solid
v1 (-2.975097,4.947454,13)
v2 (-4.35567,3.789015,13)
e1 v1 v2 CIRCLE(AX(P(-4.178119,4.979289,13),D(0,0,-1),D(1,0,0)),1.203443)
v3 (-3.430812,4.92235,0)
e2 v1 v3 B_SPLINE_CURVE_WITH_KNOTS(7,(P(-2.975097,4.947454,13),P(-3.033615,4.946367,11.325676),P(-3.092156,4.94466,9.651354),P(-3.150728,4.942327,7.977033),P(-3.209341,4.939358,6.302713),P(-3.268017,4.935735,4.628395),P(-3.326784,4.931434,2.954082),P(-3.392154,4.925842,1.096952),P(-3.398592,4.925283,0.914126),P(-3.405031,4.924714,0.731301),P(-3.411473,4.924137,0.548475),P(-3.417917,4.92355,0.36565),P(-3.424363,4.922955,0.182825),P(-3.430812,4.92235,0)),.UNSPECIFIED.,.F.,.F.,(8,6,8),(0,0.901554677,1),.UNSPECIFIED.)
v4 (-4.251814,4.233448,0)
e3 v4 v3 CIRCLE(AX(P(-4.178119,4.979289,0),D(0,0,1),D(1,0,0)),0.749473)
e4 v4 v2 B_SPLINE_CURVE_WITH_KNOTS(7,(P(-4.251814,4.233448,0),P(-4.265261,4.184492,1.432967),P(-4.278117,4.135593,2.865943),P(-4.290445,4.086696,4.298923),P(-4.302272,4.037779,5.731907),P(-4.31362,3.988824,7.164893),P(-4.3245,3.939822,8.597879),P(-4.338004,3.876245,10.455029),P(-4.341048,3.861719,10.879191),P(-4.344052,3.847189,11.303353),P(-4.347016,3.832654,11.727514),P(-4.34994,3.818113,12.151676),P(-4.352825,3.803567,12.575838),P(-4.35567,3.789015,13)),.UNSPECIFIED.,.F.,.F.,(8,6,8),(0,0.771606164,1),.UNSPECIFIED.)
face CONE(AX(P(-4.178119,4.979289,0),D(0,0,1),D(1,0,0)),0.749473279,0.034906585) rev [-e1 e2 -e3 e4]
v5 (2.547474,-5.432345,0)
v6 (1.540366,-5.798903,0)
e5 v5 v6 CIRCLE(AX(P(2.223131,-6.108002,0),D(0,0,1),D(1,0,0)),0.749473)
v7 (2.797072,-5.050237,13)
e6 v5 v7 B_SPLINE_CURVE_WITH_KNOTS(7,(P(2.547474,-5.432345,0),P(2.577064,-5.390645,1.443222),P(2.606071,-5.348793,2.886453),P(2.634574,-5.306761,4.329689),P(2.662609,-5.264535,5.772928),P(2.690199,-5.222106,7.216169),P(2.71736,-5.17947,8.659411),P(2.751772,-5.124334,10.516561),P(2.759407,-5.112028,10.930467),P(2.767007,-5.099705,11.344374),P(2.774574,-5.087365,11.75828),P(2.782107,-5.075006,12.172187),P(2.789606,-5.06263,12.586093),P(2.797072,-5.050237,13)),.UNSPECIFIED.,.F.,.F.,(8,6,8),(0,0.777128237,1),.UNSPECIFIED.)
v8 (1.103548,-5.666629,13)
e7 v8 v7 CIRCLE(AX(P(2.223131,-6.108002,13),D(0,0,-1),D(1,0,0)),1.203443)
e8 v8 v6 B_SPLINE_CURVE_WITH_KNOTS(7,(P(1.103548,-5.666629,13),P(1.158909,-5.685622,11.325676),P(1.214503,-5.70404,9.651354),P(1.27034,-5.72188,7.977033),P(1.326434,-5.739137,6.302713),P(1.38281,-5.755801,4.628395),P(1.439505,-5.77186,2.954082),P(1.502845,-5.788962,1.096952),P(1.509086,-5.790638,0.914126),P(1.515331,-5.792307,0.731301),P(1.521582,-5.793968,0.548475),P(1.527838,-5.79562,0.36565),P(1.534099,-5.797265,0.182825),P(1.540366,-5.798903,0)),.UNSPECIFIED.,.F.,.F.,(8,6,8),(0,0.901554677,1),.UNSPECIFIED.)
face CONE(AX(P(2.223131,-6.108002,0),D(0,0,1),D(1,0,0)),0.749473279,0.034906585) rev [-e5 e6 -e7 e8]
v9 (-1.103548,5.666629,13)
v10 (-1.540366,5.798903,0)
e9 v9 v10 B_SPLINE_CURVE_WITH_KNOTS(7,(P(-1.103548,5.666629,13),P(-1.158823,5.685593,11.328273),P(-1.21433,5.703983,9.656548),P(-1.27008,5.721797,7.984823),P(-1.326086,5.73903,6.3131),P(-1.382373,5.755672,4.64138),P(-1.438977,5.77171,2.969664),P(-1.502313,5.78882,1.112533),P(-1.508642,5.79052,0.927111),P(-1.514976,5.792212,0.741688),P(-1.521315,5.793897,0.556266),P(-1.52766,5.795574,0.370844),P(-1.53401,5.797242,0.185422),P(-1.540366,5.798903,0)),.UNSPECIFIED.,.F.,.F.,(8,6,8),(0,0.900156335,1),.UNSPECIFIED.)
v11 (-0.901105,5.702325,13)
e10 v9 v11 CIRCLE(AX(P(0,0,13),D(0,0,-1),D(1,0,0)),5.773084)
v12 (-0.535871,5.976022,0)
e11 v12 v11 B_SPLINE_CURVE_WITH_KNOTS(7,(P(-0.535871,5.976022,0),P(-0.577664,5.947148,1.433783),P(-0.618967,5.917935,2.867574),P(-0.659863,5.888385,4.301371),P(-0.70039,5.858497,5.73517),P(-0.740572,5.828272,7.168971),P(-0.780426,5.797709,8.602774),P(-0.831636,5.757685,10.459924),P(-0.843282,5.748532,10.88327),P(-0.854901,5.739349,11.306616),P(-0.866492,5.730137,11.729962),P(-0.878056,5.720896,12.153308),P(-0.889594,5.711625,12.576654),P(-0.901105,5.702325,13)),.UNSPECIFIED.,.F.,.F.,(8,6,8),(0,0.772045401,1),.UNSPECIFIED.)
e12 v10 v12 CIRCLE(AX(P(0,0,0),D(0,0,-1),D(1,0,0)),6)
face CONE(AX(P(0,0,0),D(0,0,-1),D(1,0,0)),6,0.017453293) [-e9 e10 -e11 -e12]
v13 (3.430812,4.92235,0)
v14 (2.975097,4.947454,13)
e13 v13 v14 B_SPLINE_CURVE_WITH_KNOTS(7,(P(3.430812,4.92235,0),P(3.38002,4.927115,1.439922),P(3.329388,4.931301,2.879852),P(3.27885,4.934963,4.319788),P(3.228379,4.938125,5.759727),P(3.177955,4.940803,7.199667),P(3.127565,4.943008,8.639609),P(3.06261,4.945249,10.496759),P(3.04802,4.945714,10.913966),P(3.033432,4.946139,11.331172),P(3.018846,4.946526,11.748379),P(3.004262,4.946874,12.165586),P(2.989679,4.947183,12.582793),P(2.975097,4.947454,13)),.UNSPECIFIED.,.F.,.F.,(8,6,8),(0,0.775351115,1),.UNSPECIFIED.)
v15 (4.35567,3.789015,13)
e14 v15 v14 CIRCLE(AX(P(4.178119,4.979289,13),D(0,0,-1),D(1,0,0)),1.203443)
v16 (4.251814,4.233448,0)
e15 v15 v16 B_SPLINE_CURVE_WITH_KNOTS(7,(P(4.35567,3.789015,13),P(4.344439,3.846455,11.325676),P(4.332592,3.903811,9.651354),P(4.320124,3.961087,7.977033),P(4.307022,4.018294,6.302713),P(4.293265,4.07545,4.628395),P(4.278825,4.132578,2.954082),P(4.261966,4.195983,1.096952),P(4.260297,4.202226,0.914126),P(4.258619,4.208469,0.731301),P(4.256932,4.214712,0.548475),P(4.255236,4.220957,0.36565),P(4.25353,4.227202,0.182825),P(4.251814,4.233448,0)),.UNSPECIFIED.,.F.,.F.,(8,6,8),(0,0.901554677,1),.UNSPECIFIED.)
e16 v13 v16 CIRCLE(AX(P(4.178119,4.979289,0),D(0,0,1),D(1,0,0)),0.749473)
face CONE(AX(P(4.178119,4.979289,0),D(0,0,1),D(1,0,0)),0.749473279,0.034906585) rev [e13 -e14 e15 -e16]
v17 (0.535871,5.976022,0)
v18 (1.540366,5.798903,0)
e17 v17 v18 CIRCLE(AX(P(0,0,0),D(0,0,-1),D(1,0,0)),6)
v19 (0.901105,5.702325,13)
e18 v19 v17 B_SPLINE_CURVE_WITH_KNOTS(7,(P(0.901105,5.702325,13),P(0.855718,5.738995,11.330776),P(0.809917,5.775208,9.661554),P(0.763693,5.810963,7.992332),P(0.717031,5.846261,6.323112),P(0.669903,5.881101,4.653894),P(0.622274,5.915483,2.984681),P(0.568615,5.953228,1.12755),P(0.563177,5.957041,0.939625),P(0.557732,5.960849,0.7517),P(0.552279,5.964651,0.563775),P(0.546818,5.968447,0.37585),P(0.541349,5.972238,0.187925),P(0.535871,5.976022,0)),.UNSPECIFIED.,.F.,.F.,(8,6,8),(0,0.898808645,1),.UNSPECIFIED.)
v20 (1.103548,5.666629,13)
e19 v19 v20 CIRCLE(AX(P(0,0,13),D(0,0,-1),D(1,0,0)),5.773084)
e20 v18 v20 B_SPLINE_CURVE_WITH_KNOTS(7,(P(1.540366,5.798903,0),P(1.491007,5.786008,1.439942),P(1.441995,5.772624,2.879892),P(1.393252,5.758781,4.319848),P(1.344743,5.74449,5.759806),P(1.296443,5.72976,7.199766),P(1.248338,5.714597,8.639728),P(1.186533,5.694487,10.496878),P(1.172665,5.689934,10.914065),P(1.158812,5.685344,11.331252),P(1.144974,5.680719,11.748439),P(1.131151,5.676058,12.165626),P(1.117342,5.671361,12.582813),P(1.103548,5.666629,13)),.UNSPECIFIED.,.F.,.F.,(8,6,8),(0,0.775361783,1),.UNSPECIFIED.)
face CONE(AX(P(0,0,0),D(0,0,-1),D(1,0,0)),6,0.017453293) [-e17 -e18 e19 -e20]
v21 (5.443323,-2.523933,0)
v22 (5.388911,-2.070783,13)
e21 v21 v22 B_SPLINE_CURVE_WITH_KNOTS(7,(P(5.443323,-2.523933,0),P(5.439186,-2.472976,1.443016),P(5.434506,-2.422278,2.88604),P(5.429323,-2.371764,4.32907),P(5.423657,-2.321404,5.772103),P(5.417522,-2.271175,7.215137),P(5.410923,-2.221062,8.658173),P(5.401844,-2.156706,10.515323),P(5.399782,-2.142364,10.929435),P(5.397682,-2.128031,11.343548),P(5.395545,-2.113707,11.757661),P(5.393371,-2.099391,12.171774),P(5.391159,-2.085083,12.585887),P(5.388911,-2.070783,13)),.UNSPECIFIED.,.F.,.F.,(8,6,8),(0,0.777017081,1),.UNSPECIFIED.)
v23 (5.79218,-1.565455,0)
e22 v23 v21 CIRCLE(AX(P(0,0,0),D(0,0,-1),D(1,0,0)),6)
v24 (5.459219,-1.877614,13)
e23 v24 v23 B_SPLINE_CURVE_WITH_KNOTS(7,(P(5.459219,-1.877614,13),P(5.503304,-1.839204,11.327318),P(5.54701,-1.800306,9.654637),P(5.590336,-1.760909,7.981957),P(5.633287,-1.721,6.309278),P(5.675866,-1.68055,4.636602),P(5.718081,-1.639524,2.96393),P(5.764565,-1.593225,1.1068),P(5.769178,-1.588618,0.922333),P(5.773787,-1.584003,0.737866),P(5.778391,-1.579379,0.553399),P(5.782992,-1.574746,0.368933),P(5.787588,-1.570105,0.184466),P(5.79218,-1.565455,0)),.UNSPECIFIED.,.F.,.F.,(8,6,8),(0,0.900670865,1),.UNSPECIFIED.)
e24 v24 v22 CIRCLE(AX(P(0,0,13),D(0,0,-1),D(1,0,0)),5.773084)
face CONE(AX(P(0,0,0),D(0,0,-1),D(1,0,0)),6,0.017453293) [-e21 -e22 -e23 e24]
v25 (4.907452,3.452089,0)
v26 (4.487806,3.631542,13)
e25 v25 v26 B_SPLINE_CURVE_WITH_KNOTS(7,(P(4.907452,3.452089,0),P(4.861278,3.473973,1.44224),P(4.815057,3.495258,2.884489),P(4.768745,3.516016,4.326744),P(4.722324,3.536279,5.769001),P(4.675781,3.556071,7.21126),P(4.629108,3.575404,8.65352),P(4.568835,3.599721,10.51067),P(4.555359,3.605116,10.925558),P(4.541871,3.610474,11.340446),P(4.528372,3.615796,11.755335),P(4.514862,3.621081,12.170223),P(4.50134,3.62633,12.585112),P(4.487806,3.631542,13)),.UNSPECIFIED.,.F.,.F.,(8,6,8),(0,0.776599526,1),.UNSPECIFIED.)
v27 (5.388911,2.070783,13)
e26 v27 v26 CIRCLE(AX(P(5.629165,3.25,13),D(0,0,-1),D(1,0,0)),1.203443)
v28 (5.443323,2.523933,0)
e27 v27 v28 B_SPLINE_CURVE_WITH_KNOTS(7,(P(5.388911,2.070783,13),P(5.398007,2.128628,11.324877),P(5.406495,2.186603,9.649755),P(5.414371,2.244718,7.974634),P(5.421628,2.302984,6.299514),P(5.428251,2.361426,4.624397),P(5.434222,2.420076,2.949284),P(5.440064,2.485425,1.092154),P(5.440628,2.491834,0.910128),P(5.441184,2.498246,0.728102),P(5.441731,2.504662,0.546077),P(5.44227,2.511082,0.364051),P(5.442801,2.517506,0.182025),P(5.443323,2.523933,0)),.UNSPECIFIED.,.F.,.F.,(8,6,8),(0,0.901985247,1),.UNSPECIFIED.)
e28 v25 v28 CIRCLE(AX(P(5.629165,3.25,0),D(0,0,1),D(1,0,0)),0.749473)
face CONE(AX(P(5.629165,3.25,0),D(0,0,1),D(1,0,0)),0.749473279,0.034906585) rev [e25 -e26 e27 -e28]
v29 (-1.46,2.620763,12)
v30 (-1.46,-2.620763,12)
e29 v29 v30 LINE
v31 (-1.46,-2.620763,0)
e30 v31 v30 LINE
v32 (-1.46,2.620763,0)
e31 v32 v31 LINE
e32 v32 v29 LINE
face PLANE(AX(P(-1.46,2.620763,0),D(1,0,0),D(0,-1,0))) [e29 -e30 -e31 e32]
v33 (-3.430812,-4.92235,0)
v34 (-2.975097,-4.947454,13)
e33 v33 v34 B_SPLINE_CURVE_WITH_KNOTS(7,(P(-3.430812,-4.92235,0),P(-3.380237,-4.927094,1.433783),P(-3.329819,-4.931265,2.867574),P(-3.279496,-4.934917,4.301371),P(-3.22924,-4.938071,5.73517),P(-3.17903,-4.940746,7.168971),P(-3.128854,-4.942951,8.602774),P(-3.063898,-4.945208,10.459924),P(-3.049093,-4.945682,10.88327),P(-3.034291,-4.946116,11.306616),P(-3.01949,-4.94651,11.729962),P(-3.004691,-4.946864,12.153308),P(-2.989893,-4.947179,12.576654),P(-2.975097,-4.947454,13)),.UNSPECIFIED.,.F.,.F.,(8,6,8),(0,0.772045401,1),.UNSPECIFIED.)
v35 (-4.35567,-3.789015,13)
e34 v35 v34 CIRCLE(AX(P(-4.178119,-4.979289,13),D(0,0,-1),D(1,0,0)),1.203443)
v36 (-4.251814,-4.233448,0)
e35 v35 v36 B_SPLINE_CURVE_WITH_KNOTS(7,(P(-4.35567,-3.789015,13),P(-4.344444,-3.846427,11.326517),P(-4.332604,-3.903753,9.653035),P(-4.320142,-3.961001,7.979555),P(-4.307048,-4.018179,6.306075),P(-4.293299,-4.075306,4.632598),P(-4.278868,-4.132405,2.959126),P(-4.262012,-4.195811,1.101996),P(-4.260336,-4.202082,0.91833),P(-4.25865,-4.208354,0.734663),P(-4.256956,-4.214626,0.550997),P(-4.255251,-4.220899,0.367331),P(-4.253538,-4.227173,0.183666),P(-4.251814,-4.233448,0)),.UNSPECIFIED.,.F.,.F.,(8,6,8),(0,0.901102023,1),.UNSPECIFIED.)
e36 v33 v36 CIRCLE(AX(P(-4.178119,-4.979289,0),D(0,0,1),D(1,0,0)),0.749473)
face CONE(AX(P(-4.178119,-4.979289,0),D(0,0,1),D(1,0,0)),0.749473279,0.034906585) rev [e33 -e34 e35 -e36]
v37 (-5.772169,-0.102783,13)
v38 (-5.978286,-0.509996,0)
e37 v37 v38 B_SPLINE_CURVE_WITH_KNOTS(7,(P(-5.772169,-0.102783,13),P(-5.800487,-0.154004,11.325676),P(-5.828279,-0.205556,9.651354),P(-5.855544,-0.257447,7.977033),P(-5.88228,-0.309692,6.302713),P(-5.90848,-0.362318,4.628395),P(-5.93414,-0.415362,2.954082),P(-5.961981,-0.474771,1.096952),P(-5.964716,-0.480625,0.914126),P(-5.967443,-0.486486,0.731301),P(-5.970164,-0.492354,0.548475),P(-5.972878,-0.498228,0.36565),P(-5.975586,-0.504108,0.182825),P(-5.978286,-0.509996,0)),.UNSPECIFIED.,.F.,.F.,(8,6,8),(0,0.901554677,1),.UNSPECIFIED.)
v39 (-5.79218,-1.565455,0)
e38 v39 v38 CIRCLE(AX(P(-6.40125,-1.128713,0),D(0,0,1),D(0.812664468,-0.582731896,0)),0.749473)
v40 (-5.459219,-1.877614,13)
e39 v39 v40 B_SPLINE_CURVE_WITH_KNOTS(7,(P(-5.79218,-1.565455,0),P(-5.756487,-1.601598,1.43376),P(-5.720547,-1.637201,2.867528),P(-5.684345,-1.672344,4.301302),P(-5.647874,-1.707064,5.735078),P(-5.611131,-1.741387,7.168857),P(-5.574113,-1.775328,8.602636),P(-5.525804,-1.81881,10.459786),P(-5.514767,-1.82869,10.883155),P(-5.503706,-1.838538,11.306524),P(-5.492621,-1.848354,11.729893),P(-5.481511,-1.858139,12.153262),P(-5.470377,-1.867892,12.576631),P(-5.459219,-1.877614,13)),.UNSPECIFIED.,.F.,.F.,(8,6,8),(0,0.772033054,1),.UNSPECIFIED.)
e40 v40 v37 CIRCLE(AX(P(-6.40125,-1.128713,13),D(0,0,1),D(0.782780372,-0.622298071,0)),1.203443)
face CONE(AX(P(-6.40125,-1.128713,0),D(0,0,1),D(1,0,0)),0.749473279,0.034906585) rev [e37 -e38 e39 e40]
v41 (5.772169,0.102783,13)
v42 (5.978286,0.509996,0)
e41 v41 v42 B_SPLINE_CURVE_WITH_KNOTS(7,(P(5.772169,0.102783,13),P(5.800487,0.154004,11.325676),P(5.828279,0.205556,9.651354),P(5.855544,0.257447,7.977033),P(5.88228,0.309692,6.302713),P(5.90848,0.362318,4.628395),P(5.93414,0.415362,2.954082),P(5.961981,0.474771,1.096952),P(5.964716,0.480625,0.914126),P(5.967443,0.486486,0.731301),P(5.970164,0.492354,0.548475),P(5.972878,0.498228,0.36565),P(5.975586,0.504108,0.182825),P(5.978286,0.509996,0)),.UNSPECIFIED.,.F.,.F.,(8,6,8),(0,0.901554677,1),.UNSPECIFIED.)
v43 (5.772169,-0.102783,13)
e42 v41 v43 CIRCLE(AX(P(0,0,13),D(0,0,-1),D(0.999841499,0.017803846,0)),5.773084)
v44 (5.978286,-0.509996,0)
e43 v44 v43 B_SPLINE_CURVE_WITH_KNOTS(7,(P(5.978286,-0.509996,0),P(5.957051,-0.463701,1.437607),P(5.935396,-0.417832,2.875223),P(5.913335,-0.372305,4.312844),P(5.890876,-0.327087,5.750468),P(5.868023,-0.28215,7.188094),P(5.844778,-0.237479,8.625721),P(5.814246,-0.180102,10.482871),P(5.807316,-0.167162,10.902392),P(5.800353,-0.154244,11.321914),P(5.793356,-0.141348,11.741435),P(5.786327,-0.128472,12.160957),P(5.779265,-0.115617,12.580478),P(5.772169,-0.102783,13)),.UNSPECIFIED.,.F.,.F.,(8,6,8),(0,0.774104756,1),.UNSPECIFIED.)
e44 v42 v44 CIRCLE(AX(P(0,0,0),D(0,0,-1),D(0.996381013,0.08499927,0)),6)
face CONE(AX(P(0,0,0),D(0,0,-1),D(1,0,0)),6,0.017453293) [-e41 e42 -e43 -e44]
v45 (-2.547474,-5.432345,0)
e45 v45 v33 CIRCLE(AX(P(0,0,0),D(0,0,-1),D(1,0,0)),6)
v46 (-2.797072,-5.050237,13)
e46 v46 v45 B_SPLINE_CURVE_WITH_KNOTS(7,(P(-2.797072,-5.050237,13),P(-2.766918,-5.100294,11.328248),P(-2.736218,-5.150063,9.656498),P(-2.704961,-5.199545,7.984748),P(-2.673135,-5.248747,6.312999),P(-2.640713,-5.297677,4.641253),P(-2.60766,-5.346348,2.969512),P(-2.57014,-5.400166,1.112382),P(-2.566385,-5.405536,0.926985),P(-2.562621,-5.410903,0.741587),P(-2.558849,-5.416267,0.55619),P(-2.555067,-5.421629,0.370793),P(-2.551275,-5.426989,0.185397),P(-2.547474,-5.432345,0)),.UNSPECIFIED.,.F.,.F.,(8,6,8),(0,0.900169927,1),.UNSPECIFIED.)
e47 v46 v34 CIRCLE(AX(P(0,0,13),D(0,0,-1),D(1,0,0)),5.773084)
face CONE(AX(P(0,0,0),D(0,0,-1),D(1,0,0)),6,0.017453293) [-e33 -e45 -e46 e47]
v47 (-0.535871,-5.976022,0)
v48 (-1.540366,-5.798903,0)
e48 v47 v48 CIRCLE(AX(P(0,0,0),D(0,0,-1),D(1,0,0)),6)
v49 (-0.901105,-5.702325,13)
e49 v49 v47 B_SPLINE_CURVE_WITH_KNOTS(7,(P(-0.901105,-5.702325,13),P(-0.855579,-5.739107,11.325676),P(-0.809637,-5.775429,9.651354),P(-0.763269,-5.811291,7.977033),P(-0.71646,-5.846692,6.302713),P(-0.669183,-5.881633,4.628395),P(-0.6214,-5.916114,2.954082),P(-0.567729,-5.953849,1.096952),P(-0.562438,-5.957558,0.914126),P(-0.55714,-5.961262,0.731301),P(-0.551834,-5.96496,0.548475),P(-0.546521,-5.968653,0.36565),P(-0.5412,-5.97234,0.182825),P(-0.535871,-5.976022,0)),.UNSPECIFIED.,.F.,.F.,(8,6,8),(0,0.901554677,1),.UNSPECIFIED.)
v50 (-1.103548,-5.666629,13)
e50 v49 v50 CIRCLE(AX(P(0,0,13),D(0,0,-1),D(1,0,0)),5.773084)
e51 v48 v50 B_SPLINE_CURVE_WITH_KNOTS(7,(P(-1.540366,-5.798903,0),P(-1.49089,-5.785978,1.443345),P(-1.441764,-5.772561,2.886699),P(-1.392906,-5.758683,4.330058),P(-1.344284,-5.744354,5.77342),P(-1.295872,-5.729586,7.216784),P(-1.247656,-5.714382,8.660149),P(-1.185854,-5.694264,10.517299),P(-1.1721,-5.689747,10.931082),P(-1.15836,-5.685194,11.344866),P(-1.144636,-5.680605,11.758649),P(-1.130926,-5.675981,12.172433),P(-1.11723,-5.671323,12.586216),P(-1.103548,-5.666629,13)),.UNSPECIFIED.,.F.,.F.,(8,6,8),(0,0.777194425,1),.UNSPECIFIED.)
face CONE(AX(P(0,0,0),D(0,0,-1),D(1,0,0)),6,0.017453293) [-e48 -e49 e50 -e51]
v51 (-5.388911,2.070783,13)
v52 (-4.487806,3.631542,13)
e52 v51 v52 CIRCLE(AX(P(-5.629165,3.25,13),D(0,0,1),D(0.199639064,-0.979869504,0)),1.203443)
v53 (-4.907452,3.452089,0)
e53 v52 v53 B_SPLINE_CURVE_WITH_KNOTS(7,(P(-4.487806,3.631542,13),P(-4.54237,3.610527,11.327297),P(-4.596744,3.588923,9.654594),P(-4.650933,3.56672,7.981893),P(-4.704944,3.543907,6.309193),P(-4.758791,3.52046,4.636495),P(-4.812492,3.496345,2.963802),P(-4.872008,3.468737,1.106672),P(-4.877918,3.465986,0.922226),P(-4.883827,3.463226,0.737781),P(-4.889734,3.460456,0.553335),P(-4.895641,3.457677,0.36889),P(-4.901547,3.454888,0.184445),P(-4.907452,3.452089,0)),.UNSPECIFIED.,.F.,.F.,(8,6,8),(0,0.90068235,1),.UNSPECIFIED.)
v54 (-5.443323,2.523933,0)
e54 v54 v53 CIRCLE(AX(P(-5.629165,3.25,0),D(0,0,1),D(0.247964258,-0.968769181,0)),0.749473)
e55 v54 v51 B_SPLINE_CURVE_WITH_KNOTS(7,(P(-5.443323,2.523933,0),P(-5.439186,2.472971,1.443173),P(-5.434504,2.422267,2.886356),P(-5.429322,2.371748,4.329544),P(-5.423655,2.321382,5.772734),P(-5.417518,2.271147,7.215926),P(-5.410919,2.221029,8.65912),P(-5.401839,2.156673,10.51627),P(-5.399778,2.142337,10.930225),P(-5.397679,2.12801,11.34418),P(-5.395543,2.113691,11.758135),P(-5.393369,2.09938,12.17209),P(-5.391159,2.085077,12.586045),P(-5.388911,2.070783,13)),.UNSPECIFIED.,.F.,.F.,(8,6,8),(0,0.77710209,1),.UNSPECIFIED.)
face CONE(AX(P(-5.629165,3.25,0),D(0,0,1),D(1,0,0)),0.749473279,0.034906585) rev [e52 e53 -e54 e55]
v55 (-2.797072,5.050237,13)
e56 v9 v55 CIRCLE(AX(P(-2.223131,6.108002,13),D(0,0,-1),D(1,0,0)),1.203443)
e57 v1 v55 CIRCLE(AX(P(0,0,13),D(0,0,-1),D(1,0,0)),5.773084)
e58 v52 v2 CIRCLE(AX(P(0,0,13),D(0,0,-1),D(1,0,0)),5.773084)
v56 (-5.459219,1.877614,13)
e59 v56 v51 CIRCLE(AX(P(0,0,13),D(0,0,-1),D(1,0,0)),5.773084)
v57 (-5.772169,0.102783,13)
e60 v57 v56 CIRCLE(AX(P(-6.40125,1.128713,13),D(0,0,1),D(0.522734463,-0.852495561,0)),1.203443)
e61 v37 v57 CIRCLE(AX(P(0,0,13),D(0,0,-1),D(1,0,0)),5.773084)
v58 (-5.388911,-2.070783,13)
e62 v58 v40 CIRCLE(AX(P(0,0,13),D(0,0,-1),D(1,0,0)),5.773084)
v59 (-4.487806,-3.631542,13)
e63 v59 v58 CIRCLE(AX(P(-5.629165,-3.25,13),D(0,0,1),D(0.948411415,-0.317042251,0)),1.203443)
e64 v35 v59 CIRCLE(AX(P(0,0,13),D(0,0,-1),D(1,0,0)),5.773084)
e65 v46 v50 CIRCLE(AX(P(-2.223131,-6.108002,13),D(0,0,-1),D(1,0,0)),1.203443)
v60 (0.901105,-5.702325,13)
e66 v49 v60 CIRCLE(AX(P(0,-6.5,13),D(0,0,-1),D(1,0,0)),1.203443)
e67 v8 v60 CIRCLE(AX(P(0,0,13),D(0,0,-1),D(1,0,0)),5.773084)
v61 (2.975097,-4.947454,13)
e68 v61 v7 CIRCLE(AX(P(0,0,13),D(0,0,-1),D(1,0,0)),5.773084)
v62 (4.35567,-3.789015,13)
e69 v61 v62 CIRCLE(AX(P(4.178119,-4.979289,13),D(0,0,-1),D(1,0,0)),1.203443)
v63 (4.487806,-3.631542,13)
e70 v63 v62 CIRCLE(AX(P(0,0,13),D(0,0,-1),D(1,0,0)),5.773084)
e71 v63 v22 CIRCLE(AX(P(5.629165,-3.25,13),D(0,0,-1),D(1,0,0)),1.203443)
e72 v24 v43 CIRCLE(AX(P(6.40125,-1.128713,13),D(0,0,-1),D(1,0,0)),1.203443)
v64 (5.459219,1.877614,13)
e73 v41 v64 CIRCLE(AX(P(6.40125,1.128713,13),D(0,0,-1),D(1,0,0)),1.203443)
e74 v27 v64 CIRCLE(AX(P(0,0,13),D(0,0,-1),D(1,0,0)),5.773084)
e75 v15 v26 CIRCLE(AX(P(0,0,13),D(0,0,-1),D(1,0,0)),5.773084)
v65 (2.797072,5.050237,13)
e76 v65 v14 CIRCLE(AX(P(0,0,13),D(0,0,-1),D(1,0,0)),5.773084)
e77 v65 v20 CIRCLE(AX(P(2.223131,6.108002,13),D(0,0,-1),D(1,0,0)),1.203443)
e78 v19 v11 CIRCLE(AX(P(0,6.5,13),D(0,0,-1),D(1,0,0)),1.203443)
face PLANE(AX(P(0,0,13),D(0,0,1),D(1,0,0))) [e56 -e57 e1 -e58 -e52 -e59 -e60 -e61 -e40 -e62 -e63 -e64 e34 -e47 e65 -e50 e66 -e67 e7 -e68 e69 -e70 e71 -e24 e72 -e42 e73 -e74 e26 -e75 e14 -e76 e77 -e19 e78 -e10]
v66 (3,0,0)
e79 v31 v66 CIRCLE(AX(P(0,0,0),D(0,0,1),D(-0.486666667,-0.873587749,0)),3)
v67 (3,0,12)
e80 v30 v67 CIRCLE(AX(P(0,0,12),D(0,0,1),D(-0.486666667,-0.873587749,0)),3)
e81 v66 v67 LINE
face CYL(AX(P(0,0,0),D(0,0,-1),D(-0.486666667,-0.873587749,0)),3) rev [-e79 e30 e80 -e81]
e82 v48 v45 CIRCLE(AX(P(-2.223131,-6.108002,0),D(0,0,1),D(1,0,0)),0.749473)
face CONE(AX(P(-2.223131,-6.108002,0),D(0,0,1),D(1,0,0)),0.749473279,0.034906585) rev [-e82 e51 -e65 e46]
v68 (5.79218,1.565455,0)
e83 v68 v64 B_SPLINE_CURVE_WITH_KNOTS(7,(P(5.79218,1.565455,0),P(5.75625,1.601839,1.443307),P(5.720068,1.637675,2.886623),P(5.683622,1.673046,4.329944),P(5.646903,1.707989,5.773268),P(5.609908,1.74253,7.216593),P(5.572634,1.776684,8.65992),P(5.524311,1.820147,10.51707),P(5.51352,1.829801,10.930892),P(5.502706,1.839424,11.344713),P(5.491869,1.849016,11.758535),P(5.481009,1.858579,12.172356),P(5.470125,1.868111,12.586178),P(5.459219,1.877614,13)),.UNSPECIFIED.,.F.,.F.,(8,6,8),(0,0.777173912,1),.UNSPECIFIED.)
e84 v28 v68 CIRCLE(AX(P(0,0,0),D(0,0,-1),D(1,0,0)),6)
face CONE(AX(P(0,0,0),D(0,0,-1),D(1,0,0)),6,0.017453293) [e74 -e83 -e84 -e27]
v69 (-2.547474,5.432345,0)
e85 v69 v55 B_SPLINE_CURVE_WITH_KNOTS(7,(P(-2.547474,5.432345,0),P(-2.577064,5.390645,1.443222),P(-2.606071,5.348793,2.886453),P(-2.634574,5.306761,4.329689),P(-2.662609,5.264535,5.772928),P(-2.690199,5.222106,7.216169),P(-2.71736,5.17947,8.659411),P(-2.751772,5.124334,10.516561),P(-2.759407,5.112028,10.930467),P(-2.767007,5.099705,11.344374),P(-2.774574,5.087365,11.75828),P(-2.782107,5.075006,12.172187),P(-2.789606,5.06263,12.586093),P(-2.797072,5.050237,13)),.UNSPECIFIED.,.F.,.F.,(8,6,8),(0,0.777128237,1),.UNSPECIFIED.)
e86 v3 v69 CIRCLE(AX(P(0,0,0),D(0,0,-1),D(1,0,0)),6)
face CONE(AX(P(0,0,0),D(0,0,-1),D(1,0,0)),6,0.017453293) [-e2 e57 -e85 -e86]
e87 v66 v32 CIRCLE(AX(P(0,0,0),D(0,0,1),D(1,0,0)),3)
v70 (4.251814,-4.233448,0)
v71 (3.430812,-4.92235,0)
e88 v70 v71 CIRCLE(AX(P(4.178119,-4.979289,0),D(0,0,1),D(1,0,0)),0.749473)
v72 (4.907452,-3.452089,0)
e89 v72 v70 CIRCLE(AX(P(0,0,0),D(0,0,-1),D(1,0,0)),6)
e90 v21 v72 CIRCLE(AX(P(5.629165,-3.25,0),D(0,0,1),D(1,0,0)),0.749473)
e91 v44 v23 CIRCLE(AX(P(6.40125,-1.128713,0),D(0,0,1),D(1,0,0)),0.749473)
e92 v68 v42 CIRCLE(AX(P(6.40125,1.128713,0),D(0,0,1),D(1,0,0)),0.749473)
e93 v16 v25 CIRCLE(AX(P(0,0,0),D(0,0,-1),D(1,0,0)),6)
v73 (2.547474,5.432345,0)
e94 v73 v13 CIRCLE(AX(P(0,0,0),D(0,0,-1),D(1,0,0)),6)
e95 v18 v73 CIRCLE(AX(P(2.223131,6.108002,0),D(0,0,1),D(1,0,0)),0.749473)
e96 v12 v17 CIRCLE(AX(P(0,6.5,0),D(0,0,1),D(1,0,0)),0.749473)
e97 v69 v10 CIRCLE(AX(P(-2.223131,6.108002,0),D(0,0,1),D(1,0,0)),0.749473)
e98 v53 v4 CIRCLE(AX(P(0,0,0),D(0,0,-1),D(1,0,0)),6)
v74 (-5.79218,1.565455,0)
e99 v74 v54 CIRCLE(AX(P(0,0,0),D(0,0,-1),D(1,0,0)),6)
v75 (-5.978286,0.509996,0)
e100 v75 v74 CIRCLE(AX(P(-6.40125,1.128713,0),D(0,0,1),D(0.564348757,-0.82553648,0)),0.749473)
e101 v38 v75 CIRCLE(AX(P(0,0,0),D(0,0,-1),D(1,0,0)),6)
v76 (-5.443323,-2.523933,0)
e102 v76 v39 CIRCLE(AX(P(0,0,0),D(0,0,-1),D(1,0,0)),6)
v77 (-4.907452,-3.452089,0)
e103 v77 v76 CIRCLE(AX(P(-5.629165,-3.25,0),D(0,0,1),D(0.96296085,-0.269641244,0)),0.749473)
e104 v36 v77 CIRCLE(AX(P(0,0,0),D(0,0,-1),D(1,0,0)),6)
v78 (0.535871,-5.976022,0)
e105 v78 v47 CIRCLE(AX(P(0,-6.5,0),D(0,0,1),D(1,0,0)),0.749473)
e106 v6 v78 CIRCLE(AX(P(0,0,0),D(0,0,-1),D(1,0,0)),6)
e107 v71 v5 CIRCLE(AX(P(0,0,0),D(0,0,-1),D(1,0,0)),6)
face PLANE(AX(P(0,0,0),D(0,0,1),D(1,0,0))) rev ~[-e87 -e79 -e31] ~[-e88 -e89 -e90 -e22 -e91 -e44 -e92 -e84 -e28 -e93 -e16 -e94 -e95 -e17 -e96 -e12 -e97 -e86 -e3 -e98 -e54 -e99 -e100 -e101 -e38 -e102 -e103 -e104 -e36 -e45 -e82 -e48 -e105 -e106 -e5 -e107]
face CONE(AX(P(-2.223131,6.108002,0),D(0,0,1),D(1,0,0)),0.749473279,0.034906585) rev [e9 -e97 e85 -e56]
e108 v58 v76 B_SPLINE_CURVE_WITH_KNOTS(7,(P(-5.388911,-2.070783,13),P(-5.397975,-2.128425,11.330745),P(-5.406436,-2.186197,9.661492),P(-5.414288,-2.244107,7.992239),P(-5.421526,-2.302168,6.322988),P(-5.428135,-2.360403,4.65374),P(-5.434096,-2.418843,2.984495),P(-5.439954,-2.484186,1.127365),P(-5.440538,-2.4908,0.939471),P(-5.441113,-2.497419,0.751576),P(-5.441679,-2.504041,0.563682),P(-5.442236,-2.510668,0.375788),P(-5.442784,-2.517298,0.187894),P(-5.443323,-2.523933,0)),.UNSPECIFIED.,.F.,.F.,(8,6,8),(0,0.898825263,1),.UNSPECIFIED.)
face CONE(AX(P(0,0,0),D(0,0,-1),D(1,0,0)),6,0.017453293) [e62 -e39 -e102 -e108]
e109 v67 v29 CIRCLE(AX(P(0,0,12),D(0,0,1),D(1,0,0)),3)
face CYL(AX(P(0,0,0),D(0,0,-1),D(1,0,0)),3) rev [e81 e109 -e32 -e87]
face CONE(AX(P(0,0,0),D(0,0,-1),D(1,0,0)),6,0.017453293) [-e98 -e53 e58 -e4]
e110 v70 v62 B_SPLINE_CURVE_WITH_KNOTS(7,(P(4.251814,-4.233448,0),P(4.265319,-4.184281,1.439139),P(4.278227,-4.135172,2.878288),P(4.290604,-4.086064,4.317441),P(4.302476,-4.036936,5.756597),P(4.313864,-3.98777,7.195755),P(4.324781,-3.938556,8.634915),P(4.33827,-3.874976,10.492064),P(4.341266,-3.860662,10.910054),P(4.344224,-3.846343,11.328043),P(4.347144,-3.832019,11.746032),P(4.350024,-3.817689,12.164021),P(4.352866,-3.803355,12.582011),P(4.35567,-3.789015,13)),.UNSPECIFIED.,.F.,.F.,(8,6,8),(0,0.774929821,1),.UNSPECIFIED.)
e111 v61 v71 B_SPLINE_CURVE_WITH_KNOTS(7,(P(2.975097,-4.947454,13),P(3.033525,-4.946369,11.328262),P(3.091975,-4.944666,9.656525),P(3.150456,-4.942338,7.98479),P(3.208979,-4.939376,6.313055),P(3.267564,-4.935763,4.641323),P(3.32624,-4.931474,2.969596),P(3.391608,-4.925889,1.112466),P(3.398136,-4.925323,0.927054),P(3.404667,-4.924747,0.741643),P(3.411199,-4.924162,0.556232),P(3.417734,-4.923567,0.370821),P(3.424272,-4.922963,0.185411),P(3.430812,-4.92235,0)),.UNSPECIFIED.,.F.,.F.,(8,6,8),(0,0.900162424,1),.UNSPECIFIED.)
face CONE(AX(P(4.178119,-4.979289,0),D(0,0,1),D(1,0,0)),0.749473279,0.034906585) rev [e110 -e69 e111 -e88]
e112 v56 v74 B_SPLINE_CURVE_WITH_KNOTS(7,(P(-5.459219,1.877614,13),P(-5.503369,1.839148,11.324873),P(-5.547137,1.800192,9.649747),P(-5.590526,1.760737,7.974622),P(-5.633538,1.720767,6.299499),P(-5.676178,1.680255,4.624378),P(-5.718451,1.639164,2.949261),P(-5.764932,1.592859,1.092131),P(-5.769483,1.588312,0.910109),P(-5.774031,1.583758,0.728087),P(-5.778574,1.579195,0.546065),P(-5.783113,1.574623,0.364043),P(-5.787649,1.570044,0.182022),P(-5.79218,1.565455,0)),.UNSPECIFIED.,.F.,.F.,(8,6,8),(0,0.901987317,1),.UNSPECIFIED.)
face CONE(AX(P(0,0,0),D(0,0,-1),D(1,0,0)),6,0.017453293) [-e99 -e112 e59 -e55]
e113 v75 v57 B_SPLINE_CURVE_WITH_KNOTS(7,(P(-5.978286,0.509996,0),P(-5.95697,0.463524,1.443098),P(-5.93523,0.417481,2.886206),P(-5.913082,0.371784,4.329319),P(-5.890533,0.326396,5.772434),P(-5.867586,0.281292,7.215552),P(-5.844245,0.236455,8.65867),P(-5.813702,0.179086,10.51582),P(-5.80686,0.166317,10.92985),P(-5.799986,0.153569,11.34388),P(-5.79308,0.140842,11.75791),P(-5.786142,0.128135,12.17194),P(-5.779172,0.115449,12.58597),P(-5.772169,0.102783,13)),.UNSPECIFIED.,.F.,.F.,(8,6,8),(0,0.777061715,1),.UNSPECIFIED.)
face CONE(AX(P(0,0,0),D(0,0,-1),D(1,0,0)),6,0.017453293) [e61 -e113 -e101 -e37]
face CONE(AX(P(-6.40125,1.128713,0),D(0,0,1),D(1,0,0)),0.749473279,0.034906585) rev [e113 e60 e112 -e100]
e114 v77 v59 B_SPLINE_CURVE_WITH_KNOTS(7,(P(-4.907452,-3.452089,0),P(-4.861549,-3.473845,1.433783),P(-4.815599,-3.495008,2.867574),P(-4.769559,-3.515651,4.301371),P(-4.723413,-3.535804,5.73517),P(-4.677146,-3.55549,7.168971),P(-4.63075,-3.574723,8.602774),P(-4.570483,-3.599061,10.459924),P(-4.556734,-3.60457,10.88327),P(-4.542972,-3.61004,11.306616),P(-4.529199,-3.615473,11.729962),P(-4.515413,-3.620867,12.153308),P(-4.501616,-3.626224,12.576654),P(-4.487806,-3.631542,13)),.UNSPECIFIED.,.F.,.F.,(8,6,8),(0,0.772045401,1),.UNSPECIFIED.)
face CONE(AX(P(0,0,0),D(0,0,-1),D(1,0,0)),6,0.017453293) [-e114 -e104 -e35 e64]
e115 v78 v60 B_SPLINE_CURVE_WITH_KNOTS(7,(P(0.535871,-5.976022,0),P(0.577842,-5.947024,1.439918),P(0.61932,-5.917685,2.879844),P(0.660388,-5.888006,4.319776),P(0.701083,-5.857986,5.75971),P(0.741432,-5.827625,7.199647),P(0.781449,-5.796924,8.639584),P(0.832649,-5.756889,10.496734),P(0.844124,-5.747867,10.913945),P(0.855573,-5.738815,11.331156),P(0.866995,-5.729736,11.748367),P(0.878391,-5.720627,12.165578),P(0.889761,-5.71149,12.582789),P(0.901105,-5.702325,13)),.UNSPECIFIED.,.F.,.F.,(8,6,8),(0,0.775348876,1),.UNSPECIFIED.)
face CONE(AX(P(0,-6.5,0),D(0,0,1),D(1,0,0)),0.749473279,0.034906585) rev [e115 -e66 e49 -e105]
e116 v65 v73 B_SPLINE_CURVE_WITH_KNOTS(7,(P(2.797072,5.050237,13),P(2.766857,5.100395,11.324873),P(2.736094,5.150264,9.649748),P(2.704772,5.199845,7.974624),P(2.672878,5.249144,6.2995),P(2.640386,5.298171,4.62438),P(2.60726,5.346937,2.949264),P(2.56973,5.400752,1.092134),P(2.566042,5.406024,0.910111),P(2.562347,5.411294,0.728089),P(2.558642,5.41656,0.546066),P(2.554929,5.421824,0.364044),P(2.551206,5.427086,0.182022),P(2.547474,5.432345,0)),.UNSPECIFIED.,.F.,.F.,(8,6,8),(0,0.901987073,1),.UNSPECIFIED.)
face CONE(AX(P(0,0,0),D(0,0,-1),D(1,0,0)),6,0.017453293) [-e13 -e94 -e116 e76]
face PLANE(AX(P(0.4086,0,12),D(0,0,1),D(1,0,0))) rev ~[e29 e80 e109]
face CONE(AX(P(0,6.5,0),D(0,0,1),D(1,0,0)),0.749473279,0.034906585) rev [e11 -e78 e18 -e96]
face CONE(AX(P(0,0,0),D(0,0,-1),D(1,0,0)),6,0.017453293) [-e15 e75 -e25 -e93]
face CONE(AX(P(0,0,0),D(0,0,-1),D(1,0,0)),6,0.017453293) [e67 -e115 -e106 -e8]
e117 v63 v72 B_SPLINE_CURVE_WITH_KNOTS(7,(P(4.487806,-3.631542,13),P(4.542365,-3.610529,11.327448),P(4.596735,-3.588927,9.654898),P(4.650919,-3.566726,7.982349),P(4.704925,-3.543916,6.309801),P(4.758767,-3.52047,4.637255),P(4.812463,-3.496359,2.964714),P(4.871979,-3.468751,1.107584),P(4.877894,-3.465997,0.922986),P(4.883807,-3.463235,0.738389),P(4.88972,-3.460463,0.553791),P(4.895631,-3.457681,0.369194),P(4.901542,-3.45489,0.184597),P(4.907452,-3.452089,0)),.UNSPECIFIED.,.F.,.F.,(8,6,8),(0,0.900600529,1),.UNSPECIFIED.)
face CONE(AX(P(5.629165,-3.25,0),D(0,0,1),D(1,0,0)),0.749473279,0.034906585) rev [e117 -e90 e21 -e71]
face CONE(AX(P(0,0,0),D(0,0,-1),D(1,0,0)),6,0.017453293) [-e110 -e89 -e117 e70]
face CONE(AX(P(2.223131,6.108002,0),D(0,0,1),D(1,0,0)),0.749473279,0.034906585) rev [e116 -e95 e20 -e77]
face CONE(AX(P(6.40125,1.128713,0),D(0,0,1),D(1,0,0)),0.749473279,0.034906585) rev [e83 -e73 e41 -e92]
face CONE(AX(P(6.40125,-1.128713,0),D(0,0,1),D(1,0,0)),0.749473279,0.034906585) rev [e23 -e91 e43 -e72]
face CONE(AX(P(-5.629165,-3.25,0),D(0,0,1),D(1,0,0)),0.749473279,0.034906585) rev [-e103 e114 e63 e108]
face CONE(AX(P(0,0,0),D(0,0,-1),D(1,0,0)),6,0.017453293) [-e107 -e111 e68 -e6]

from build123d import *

# Parameters (mm, degrees)
F0_R     = 6
F2_DEPTH = 13
F2_TAPER = 1
F3_DEPTH = 12
F5_R     = 0.7494732789
F6_DEPTH = 13
F6_TAPER = -2


with BuildPart() as f2:
    # F0 (on Top) → F2 (new body)
    with BuildSketch(Plane.XY):
        Circle(F0_R)
    extrude(amount=F2_DEPTH, taper=F2_TAPER)

    # F1 (on Top) → F3 (cut)
    with BuildSketch(Plane.XY):
        with BuildLine():
            ThreePointArc((-1.46, -2.6207632476), (1.5198684154, -2.5865034313), (3, 0))
            ThreePointArc((3, 0), (1.5198684154, 2.5865034313), (-1.46, 2.6207632476))
            Line((-1.46, 2.6207632476), (-1.46, 0))
            Line((-1.46, 0), (-1.46, -2.6207632476))
        make_face()
    extrude(amount=F3_DEPTH, mode=Mode.SUBTRACT)

    # F5 (on face) → F6 (cut)
    with BuildSketch(Plane(origin=(0, 0, 0), x_dir=(1, 0, 0), z_dir=(0, 0, -1))):
        with Locations((0, 6.5)):
            Circle(F5_R)
        with Locations((-2.2231309316, 6.1080020351)):
            Circle(F5_R)
        with Locations((-4.178119463, 4.9792888803)):
            Circle(F5_R)
        with Locations((-5.6291651246, 3.25)):
            Circle(F5_R)
        with Locations((-6.4012503946, 1.1287131548)):
            Circle(F5_R)
        with Locations((-6.4012503946, -1.1287131548)):
            Circle(F5_R)
        with Locations((-5.6291651246, -3.25)):
            Circle(F5_R)
        with Locations((-4.178119463, -4.9792888803)):
            Circle(F5_R)
        with Locations((-2.2231309316, -6.1080020351)):
            Circle(F5_R)
        with Locations((0, -6.5)):
            Circle(F5_R)
        with Locations((2.2231309316, -6.1080020351)):
            Circle(F5_R)
        with Locations((4.178119463, -4.9792888803)):
            Circle(F5_R)
        with Locations((5.6291651246, -3.25)):
            Circle(F5_R)
        with Locations((6.4012503946, -1.1287131548)):
            Circle(F5_R)
        with Locations((6.4012503946, 1.1287131548)):
            Circle(F5_R)
        with Locations((5.6291651246, 3.25)):
            Circle(F5_R)
        with Locations((4.178119463, 4.9792888803)):
            Circle(F5_R)
        with Locations((2.2231309316, 6.1080020351)):
            Circle(F5_R)
    extrude(amount=-F6_DEPTH, taper=F6_TAPER, mode=Mode.SUBTRACT)


solid = f2.part
